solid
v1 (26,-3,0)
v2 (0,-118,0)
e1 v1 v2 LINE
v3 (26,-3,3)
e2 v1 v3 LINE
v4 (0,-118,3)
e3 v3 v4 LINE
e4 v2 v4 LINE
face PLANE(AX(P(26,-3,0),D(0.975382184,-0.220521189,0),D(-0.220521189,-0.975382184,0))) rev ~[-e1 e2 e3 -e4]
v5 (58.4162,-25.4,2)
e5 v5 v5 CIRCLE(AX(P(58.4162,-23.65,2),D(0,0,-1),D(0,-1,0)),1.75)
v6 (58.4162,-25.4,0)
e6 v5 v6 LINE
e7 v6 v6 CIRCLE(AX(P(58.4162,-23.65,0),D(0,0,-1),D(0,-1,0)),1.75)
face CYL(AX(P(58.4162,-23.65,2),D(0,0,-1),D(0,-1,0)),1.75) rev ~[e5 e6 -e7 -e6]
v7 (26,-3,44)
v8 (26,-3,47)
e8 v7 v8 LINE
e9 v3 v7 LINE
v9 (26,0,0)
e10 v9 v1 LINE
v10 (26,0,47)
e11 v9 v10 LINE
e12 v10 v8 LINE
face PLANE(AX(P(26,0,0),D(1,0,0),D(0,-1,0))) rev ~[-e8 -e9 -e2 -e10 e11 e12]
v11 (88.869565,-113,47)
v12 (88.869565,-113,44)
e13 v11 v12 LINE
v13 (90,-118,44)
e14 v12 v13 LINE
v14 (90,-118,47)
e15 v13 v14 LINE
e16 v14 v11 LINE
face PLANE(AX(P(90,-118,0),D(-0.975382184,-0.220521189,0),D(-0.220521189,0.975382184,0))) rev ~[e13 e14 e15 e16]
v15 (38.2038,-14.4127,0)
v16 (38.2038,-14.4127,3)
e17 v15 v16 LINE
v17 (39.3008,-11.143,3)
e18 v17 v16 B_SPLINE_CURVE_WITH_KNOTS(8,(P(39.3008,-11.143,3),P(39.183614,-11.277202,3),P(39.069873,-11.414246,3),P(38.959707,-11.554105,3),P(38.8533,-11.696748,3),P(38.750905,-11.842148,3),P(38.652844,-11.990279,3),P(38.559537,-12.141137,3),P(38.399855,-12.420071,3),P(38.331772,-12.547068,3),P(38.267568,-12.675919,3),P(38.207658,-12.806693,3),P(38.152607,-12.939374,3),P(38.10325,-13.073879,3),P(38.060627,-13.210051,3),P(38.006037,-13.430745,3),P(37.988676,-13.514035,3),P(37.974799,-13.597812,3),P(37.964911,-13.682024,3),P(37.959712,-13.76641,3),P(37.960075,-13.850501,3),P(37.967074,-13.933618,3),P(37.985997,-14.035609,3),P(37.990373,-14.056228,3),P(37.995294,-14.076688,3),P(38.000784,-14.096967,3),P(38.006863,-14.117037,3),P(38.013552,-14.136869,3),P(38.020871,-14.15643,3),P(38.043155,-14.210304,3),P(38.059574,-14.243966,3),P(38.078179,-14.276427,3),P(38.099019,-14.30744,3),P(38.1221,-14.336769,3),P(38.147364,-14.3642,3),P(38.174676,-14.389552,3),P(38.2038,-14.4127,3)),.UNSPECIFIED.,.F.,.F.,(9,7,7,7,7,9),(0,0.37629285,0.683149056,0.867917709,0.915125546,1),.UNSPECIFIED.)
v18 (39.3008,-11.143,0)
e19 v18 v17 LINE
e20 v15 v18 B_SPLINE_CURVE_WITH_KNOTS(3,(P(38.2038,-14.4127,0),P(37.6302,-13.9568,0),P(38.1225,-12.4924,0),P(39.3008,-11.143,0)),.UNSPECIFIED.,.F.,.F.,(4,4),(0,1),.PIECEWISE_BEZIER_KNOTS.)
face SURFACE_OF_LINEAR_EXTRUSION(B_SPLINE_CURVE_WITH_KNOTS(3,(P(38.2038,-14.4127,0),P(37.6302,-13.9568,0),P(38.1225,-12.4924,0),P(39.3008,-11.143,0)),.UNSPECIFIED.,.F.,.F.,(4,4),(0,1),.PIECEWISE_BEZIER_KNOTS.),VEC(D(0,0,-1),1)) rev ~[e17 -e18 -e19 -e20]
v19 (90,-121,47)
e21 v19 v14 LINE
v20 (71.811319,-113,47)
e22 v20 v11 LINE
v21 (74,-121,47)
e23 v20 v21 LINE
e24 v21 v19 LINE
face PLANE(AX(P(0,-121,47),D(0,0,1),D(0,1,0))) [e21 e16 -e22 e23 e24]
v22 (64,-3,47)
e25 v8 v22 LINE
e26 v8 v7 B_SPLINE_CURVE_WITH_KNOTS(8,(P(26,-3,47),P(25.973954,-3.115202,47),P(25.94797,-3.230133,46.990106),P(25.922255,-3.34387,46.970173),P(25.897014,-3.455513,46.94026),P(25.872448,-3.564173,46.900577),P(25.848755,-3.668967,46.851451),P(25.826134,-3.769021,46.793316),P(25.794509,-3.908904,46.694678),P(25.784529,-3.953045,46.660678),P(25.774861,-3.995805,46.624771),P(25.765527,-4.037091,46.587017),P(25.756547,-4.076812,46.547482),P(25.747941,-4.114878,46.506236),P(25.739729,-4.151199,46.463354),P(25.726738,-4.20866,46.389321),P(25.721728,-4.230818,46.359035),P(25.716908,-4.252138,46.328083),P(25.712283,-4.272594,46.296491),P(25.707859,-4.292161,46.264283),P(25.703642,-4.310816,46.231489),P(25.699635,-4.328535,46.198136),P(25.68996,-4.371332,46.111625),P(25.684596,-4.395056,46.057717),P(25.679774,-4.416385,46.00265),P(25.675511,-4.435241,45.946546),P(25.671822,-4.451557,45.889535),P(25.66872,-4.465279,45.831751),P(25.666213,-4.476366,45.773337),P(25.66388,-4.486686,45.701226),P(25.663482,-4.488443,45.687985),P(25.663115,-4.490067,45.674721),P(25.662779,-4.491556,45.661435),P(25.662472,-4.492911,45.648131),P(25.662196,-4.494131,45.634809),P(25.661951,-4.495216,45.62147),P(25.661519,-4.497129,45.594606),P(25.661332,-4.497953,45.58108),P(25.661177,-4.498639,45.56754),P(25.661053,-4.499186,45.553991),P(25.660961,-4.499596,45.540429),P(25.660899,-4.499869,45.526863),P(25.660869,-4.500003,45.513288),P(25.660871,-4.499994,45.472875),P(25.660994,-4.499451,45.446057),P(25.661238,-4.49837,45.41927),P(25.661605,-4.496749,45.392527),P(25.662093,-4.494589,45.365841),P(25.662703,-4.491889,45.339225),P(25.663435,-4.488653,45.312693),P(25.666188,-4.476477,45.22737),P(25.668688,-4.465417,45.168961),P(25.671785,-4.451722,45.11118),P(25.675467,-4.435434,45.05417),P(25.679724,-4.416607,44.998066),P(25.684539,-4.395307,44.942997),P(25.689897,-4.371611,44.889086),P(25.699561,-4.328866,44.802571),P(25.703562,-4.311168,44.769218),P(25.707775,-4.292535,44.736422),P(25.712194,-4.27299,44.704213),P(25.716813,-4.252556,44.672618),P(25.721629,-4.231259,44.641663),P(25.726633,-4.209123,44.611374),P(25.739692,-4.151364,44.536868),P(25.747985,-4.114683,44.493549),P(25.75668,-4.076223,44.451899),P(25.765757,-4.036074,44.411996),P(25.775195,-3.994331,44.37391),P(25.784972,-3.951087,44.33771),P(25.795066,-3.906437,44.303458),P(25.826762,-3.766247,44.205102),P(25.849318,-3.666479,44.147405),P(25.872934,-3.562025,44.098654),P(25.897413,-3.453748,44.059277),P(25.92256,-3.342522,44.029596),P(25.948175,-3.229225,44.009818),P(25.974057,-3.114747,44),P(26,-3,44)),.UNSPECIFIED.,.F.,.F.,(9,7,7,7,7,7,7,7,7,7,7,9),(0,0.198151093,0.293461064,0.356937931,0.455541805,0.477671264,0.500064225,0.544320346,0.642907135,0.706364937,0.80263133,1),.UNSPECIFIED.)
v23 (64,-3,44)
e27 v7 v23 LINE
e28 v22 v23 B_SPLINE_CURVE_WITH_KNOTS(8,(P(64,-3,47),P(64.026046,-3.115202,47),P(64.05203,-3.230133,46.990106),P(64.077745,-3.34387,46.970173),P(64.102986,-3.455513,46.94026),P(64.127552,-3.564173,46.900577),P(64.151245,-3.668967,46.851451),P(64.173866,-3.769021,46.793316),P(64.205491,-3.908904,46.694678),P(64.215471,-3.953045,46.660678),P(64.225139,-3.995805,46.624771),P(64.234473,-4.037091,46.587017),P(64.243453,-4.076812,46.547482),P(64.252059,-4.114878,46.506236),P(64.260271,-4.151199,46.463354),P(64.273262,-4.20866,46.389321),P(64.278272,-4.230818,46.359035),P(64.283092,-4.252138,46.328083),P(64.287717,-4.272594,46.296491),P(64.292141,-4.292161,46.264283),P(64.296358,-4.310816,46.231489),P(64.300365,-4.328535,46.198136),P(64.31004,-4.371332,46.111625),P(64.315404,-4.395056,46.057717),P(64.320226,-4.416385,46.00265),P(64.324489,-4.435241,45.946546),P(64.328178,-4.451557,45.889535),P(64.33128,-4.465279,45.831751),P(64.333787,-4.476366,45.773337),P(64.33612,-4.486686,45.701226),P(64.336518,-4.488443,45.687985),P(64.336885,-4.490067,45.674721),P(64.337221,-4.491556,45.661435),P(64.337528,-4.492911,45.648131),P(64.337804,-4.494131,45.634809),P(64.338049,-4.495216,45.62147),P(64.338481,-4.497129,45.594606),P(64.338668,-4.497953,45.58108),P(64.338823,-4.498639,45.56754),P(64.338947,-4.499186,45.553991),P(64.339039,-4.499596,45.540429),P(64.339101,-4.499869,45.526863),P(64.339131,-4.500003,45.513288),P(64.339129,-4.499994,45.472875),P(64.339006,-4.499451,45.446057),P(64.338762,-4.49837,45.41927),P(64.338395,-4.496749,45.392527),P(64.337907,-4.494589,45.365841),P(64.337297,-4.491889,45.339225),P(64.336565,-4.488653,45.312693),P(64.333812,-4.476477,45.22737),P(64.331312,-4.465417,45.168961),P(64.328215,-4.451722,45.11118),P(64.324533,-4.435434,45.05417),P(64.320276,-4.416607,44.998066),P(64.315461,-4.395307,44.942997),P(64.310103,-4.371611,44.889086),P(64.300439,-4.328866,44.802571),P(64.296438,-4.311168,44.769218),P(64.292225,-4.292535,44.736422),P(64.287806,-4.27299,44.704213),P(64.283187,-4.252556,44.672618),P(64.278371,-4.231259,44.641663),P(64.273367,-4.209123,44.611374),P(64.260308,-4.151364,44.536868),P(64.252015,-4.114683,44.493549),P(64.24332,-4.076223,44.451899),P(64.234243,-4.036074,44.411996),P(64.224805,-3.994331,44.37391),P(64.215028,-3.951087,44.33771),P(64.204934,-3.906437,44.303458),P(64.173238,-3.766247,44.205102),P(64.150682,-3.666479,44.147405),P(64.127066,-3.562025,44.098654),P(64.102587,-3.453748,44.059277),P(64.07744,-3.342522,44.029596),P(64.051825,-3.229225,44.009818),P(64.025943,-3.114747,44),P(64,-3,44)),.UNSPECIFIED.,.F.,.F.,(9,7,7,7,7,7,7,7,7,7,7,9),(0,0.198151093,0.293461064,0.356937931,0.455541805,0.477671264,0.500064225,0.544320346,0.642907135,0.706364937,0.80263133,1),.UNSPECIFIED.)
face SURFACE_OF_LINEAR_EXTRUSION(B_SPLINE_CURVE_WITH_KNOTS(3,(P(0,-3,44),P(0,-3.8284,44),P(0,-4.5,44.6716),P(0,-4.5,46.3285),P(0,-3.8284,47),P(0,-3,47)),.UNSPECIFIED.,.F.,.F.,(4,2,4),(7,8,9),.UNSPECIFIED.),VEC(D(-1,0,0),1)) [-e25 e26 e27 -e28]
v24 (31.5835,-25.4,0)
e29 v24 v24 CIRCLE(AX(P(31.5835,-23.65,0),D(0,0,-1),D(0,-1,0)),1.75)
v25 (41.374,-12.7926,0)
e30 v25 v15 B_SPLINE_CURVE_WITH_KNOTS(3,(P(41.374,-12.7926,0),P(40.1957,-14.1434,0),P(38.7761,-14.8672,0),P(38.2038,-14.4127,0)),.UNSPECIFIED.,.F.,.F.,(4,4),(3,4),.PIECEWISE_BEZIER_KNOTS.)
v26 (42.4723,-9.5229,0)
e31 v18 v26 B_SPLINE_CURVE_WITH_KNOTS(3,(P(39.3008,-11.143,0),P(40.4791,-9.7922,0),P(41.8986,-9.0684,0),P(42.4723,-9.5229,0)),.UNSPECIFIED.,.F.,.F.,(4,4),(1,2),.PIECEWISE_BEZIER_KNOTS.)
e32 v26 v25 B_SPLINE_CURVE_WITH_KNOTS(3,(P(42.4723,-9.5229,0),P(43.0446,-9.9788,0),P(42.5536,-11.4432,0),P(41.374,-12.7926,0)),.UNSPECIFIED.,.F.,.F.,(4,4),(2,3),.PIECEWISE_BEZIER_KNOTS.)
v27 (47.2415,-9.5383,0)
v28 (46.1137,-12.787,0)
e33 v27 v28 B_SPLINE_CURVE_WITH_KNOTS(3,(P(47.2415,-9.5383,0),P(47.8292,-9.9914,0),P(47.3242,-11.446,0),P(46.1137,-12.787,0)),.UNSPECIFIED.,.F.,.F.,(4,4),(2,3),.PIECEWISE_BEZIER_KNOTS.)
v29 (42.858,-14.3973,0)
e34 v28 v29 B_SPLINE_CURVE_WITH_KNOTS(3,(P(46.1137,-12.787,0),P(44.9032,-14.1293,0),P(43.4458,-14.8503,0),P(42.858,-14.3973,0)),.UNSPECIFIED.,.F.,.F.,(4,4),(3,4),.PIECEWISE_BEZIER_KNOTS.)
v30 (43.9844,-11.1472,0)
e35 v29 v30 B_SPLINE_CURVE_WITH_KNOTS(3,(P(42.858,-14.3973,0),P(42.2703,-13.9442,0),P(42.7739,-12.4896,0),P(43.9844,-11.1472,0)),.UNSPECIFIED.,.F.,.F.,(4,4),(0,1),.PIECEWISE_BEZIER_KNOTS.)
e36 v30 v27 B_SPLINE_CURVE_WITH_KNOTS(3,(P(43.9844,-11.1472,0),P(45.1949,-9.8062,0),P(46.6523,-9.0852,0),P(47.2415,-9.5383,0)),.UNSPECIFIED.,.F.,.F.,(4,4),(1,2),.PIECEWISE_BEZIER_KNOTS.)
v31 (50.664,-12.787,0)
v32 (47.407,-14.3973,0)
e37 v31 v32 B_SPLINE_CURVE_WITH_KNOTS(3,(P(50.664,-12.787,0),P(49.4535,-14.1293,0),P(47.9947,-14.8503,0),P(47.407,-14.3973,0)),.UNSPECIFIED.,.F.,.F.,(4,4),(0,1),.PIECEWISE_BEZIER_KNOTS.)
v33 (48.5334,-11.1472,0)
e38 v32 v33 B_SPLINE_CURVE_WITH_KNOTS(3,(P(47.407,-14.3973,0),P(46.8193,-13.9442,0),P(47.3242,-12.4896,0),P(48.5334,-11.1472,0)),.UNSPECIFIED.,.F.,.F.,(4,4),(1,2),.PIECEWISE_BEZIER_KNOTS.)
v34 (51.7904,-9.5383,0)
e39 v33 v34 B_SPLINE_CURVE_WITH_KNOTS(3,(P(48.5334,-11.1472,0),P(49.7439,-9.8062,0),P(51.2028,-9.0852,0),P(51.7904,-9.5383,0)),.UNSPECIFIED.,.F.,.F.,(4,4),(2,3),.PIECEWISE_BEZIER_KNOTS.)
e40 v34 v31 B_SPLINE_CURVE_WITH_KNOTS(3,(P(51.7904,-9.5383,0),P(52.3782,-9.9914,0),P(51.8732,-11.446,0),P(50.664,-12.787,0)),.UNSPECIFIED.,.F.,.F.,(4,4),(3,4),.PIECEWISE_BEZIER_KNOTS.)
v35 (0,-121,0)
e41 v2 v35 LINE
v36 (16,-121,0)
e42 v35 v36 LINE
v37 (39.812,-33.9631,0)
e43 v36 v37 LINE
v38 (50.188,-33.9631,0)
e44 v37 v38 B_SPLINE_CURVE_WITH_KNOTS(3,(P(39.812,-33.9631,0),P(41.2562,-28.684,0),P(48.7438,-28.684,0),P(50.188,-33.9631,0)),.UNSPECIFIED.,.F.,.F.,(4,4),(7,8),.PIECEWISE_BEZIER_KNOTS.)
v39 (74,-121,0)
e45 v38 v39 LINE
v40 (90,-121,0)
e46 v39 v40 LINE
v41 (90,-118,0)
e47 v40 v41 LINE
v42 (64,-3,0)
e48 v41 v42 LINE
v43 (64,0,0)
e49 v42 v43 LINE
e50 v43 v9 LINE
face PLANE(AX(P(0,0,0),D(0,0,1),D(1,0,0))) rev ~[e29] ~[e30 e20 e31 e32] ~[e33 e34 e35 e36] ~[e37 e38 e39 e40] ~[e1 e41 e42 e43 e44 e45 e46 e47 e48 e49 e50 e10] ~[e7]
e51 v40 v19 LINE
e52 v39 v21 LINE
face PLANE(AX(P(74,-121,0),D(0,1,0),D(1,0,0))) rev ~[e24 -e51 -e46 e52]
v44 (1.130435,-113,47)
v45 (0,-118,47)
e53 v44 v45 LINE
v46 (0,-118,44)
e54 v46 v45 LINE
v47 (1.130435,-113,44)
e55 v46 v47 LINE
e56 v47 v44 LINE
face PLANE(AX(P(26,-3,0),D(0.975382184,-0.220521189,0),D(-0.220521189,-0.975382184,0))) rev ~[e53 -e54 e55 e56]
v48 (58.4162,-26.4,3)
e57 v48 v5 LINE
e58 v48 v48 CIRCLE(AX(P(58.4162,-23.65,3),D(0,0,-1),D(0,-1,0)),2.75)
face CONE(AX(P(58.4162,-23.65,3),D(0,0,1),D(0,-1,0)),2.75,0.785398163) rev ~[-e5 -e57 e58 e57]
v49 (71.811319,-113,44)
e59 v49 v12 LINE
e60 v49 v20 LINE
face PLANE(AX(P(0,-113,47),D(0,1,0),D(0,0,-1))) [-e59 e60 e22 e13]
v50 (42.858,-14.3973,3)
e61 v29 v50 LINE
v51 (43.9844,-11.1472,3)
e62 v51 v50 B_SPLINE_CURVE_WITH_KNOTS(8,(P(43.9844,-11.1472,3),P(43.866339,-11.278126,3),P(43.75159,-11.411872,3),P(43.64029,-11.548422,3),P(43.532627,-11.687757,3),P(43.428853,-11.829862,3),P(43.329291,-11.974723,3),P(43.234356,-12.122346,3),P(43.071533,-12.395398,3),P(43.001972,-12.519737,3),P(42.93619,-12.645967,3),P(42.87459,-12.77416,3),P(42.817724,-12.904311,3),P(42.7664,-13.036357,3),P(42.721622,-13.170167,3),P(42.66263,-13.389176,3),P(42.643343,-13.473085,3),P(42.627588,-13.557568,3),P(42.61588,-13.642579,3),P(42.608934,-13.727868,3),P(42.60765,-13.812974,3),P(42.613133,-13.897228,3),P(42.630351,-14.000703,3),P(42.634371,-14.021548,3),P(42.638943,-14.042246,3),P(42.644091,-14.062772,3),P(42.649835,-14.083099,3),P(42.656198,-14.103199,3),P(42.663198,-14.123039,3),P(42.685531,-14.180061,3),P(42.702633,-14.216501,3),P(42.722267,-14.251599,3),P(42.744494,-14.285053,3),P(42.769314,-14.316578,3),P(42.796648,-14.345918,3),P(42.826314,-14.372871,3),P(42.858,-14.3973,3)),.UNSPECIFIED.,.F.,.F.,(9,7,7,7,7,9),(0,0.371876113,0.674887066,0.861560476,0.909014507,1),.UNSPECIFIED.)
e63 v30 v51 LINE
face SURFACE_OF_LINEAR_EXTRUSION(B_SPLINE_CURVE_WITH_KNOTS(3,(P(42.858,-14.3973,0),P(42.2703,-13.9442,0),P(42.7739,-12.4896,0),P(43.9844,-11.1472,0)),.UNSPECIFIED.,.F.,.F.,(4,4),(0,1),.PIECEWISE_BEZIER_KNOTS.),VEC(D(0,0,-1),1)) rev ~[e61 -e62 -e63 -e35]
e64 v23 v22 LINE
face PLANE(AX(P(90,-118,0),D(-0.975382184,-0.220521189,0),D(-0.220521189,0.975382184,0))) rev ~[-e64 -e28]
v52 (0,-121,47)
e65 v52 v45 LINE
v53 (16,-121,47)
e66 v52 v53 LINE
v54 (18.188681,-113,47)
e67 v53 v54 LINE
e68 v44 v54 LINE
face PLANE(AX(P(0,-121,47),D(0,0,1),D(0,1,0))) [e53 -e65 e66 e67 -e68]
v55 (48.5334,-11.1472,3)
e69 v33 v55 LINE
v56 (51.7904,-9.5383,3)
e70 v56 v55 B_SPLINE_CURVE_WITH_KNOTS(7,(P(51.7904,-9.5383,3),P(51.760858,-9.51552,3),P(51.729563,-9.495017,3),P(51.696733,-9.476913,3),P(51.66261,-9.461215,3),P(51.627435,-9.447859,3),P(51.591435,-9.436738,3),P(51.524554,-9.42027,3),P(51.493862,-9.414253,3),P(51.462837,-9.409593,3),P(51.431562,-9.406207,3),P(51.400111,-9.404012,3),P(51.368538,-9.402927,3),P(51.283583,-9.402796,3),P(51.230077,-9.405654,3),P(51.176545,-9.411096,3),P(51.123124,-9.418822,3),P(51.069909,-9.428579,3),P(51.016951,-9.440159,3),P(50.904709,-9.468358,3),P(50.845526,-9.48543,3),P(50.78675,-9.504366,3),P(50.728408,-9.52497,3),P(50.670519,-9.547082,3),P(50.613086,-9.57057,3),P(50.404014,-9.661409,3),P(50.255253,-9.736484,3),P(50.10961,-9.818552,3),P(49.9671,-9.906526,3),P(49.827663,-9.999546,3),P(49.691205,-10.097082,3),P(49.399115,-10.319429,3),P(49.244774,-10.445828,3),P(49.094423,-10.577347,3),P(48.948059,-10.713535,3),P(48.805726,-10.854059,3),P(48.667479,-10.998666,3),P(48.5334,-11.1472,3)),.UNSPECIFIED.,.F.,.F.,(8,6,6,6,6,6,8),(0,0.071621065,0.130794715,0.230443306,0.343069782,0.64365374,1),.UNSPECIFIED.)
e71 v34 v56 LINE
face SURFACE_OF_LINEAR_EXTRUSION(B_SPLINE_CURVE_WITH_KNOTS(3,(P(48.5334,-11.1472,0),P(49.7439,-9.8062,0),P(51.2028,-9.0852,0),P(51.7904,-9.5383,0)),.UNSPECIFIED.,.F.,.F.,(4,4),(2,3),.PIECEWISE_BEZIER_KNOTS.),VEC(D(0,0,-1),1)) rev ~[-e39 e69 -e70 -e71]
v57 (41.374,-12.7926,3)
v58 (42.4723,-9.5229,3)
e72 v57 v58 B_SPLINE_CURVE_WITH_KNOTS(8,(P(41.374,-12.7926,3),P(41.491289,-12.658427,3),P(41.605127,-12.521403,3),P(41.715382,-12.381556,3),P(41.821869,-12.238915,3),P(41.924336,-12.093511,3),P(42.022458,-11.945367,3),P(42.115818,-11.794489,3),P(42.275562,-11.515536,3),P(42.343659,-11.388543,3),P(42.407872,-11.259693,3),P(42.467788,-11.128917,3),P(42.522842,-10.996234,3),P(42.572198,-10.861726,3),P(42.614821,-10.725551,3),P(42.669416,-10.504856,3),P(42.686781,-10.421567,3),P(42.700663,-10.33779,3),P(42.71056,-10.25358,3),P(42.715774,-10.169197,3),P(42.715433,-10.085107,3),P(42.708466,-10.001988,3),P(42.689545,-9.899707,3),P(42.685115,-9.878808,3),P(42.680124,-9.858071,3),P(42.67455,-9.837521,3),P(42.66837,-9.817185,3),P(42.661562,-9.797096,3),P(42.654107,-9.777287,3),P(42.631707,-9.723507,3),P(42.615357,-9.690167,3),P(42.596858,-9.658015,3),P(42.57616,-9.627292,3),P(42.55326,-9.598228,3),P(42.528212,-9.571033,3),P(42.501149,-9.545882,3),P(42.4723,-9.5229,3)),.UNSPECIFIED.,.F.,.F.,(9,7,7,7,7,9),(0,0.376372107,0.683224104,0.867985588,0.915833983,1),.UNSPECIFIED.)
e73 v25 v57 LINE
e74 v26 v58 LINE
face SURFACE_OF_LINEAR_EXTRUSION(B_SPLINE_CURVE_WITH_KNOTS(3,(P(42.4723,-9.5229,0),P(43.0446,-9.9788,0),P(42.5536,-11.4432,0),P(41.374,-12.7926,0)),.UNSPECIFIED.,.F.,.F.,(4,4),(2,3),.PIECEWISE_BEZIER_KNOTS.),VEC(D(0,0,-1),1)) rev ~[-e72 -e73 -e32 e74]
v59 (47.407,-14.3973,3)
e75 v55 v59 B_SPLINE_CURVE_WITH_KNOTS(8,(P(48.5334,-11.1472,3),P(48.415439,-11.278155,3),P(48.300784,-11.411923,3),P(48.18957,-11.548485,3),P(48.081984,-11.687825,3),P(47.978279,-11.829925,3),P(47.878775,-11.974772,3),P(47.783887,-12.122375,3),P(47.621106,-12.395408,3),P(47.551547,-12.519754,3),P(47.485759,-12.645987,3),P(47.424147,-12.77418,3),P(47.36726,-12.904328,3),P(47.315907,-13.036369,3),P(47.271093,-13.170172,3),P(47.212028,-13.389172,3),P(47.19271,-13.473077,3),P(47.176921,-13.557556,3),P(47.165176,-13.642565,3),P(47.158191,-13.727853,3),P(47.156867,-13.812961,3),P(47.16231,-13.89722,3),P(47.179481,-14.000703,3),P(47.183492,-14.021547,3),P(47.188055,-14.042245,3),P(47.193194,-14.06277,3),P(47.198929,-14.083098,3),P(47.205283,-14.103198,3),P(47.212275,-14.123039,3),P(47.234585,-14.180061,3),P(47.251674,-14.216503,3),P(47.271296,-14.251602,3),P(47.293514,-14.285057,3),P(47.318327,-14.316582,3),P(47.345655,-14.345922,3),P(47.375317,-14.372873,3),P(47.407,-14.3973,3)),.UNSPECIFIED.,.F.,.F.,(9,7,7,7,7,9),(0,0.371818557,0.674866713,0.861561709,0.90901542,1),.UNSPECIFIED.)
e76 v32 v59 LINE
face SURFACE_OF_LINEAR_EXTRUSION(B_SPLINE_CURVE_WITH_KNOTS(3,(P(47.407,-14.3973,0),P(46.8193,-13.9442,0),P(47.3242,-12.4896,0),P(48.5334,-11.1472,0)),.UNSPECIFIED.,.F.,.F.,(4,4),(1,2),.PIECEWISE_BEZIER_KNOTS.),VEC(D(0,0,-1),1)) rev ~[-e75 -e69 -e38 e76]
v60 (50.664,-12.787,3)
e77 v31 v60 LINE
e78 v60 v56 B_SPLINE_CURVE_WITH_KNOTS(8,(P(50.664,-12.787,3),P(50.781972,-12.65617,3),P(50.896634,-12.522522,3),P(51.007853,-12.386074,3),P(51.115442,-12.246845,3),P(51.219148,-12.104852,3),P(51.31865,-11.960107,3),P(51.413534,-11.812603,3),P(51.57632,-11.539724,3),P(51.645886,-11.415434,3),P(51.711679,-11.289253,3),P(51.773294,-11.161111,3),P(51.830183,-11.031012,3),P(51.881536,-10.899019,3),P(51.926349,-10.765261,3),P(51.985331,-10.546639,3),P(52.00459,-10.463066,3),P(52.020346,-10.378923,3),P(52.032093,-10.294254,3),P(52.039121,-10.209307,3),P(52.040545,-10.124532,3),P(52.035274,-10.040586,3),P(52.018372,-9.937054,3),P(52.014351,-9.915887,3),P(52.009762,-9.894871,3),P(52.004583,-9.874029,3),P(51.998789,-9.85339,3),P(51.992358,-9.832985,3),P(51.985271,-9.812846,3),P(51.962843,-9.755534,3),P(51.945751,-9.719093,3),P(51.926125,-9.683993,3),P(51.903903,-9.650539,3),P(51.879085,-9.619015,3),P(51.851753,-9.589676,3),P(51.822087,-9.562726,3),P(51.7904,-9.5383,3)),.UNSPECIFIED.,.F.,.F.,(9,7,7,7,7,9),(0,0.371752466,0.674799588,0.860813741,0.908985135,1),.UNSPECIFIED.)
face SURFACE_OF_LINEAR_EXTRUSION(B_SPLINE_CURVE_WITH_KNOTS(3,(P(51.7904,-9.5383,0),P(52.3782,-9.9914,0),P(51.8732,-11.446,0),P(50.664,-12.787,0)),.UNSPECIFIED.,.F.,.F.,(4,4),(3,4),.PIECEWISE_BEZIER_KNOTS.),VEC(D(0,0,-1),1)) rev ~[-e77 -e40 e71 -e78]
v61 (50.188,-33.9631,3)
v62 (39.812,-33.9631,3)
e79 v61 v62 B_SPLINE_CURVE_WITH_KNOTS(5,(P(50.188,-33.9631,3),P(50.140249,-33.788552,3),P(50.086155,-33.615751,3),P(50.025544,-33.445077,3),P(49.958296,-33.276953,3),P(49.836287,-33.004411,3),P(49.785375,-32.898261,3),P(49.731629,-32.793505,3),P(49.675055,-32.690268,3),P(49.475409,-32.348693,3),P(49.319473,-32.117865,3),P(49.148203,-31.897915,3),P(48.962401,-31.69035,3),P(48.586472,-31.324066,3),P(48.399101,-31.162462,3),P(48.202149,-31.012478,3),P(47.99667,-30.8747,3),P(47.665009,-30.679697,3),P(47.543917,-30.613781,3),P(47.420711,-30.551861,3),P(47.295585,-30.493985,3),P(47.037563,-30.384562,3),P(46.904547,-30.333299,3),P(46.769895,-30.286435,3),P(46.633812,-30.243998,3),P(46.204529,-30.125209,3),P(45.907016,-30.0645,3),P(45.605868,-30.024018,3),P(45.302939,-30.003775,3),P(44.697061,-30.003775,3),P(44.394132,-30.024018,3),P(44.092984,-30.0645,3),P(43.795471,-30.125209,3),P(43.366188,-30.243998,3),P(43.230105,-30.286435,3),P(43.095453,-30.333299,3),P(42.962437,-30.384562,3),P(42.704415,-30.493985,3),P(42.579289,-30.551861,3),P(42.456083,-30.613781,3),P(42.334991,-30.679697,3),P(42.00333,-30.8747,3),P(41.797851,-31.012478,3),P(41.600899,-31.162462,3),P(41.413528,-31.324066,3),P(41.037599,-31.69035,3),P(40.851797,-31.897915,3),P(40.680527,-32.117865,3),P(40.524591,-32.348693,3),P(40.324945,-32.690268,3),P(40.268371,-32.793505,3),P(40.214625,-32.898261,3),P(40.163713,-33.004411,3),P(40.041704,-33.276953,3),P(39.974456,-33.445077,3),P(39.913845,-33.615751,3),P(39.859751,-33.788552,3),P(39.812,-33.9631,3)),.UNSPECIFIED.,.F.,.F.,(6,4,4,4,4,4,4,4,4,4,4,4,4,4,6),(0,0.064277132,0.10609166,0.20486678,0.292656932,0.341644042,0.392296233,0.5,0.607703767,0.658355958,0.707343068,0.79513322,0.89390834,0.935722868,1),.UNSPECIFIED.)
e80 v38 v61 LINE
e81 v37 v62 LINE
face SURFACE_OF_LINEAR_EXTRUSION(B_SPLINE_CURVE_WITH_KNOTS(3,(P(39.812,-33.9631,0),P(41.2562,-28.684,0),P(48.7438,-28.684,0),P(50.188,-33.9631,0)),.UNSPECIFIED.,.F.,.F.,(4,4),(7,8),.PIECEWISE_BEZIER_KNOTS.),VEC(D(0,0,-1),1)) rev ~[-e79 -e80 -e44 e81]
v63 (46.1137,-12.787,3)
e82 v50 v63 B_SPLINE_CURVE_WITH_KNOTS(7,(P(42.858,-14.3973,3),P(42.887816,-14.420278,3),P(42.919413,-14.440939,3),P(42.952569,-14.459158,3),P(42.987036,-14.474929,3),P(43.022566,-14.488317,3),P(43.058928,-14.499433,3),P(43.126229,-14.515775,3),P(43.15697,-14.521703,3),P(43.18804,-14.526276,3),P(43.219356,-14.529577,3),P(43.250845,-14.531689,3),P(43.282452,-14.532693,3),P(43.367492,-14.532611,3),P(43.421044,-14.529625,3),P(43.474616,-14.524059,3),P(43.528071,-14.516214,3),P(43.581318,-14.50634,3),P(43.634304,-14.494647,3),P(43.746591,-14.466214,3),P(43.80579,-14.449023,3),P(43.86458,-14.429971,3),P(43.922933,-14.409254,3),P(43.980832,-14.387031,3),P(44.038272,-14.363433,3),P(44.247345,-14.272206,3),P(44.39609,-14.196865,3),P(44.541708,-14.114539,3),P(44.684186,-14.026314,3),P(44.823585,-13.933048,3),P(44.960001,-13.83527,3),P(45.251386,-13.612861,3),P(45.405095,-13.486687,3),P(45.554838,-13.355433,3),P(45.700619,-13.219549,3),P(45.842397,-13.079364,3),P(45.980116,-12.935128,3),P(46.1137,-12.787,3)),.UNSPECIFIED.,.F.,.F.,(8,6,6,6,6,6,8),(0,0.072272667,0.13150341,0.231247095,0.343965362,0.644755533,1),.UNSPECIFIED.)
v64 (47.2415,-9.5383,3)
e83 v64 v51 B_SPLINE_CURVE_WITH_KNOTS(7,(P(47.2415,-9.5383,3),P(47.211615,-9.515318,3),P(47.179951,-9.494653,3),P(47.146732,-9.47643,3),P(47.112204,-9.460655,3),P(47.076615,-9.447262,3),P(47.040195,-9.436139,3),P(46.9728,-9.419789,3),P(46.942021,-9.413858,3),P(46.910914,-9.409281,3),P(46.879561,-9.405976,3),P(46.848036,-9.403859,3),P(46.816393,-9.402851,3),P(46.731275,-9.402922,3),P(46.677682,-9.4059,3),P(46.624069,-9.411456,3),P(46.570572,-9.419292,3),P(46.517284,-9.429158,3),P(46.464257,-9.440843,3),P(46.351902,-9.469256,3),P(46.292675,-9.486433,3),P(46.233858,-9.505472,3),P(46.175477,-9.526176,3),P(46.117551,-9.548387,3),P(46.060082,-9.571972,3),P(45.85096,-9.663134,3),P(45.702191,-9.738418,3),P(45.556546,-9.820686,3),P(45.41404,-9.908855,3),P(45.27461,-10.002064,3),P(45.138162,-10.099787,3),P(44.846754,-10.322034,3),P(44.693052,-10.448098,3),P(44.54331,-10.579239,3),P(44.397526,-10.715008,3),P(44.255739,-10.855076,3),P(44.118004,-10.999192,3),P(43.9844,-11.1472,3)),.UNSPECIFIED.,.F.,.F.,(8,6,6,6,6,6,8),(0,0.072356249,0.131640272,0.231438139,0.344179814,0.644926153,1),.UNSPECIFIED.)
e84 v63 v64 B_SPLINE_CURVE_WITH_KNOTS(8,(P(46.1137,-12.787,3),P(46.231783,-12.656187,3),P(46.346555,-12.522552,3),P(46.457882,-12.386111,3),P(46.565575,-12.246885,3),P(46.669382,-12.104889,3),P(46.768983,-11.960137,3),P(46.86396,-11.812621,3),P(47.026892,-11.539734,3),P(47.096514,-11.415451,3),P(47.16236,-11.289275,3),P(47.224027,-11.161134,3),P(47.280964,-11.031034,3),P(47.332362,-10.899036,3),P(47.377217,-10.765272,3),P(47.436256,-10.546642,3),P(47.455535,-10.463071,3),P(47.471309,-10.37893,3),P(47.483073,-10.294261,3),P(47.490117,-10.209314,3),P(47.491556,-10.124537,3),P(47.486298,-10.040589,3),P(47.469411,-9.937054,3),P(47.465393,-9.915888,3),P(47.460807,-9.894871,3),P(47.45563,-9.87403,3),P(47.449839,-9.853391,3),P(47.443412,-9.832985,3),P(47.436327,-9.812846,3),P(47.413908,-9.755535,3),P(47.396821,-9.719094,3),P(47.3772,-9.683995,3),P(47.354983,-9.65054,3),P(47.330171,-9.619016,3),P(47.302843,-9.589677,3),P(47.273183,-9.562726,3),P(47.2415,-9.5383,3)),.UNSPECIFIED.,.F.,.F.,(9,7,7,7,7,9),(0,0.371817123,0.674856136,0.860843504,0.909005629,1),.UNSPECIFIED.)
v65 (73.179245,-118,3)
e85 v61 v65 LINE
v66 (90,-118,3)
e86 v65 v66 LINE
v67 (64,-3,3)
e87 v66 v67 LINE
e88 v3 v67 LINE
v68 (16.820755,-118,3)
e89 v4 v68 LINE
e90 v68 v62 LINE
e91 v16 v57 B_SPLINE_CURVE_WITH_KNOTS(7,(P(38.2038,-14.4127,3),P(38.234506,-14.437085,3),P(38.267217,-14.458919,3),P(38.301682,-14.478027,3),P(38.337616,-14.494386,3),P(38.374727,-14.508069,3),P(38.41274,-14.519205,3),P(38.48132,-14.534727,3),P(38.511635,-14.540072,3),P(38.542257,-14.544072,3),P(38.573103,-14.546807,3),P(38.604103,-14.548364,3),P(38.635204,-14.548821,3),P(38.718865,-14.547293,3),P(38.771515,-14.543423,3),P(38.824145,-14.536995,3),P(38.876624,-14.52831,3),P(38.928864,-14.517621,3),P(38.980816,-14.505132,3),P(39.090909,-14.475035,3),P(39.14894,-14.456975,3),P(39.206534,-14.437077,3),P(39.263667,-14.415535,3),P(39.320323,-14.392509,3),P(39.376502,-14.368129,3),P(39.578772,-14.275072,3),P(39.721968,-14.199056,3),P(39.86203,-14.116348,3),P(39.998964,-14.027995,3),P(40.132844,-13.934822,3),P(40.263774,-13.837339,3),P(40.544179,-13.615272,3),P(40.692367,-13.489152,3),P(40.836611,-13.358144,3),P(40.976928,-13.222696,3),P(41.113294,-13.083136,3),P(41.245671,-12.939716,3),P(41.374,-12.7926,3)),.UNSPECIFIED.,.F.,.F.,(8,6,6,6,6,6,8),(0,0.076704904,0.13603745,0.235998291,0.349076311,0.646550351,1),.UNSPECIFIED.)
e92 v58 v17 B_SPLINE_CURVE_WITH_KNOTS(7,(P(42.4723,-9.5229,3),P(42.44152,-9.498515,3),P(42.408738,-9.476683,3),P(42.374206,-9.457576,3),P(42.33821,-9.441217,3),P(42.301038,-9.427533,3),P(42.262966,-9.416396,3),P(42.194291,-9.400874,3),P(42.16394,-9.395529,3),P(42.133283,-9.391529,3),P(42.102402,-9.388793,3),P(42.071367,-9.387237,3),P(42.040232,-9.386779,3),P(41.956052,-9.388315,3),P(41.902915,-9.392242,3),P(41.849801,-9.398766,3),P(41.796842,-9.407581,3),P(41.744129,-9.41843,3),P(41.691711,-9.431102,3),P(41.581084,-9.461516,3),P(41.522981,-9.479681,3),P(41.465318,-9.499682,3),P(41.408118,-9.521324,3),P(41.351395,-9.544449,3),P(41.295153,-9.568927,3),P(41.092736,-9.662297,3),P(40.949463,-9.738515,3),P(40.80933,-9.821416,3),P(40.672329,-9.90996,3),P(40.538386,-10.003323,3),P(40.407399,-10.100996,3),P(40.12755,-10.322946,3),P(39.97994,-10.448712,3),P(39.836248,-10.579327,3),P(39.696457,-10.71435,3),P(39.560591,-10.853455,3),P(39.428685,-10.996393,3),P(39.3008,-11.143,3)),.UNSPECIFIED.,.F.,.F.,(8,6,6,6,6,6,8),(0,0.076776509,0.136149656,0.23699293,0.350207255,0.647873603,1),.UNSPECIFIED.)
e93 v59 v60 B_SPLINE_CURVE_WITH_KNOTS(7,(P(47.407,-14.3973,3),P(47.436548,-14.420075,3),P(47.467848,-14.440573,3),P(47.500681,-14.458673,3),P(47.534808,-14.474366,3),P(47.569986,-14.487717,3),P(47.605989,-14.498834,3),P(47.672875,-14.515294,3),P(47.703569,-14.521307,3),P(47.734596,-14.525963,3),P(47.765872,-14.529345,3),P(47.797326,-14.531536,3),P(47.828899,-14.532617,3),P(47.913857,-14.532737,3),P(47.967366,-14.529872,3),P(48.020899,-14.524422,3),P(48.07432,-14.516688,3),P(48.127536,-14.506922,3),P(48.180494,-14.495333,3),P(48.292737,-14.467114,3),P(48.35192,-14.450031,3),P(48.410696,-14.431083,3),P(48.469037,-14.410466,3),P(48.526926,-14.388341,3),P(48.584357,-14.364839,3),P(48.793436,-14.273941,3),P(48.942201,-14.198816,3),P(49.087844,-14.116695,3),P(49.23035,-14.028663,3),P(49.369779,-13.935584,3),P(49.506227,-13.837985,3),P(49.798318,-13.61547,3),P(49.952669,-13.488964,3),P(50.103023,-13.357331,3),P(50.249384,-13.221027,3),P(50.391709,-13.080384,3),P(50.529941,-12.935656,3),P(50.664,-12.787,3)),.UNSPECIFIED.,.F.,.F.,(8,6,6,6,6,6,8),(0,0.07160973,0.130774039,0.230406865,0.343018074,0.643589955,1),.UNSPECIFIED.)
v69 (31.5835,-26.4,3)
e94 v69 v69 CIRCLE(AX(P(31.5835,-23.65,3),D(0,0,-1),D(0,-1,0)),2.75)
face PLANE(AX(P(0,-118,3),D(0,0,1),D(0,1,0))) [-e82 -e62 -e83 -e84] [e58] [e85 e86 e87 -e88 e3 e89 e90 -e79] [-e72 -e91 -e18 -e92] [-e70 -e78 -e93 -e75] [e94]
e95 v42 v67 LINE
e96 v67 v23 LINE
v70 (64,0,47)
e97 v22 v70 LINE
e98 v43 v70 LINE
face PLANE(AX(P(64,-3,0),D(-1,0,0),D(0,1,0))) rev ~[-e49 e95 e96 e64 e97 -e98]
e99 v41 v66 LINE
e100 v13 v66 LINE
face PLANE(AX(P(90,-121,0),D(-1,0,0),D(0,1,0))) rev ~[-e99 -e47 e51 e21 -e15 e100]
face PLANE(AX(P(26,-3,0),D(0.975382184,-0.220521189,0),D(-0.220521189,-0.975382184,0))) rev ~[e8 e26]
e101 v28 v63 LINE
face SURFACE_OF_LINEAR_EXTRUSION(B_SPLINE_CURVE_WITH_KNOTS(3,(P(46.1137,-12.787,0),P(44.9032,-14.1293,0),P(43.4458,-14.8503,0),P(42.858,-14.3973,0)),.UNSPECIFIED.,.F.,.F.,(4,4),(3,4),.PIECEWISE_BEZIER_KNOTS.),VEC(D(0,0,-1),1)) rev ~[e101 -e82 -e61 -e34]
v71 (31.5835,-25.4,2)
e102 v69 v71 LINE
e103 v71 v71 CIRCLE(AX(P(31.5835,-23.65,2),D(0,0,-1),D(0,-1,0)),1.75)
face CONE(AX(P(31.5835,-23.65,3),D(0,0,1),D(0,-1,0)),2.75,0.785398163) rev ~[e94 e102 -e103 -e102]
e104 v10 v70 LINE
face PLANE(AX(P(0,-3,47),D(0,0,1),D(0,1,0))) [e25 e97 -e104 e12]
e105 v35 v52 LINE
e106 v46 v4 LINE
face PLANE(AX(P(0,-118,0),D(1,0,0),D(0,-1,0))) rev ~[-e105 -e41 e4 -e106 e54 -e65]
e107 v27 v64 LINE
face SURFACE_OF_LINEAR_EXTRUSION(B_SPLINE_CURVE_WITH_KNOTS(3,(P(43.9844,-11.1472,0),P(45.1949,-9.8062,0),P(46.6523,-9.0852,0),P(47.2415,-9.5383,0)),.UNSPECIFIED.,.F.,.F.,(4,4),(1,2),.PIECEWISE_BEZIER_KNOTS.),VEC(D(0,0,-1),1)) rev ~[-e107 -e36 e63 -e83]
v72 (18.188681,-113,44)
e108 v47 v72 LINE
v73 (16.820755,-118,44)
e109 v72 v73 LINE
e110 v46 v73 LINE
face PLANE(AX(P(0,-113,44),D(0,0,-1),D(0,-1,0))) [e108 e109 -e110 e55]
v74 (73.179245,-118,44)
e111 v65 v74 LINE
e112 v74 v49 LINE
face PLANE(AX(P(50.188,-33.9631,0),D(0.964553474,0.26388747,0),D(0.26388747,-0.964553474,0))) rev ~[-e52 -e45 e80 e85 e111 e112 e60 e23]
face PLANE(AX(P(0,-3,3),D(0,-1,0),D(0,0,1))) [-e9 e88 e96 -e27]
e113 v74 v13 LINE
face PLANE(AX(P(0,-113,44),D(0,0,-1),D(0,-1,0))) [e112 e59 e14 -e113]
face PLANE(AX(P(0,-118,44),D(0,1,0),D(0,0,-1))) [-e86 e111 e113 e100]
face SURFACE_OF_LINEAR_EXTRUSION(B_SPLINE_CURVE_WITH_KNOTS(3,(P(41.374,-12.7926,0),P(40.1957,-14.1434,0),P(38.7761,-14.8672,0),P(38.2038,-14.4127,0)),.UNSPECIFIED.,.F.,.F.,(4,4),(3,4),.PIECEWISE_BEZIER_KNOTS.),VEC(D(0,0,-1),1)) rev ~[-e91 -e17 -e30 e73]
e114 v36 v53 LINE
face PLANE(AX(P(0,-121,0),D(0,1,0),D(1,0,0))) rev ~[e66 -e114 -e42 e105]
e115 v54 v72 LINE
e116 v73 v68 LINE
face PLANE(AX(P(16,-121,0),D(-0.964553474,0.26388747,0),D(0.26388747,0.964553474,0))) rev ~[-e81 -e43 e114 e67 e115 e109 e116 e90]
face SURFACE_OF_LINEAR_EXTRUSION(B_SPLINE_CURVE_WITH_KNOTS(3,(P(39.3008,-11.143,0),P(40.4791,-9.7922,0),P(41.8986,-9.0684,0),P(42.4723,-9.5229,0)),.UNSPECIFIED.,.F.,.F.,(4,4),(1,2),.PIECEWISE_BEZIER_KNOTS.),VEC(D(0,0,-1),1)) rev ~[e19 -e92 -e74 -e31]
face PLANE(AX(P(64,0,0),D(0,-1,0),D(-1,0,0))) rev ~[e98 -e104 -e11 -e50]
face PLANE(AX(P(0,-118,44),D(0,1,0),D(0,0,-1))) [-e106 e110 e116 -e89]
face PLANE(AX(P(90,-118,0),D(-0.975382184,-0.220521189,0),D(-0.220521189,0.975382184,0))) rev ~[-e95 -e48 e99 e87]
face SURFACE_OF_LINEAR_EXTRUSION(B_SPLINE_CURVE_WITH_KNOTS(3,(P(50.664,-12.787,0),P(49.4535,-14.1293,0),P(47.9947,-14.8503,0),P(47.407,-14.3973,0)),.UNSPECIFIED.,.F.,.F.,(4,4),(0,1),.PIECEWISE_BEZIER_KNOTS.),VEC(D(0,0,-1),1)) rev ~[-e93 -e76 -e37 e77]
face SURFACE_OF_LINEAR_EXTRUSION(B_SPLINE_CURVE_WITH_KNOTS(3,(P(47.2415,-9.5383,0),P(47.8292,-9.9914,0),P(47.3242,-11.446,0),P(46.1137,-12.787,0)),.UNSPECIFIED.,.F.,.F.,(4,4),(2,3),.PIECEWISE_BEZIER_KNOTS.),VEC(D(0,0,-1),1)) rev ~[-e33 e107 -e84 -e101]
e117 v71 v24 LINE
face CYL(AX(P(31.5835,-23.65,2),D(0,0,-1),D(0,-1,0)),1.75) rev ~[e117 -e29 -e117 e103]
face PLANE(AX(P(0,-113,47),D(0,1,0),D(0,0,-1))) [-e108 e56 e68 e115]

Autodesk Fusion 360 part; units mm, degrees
sketch "Top" plane through (0, 0, 0) normal (0, 0, 1) x (1, 0, 0)
  spline S0 degree 3 poles (50.664, -12.787) (49.4535, -14.1293) (47.9947, -14.8503) (47.407, -14.3973) knots 0 0 0 0 1 1 1 1
  spline S1 degree 3 poles (47.407, -14.3973) (46.8193, -13.9442) (47.3242, -12.4896) (48.5334, -11.1472) knots 1 1 1 1 2 2 2 2
  spline S2 degree 3 poles (48.5334, -11.1472) (49.7439, -9.8062) (51.2028, -9.0852) (51.7904, -9.5383) knots 2 2 2 2 3 3 3 3
  spline S3 degree 3 poles (51.7904, -9.5383) (52.3782, -9.9914) (51.8732, -11.446) (50.664, -12.787) knots 3 3 3 3 4 4 4 4
  spline S4 degree 3 poles (42.858, -14.3973) (42.2703, -13.9442) (42.7739, -12.4896) (43.9844, -11.1472) knots 0 0 0 0 1 1 1 1
  spline S5 degree 3 poles (43.9844, -11.1472) (45.1949, -9.8062) (46.6523, -9.0852) (47.2415, -9.5383) knots 1 1 1 1 2 2 2 2
  spline S6 degree 3 poles (47.2415, -9.5383) (47.8292, -9.9914) (47.3242, -11.446) (46.1137, -12.787) knots 2 2 2 2 3 3 3 3
  spline S7 degree 3 poles (46.1137, -12.787) (44.9032, -14.1293) (43.4458, -14.8503) (42.858, -14.3973) knots 3 3 3 3 4 4 4 4
  spline S8 degree 3 poles (38.2038, -14.4127) (37.6302, -13.9568) (38.1225, -12.4924) (39.3008, -11.143) knots 0 0 0 0 1 1 1 1
  spline S9 degree 3 poles (39.3008, -11.143) (40.4791, -9.7922) (41.8986, -9.0684) (42.4723, -9.5229) knots 1 1 1 1 2 2 2 2
  spline S10 degree 3 poles (42.4723, -9.5229) (43.0446, -9.9788) (42.5536, -11.4432) (41.374, -12.7926) knots 2 2 2 2 3 3 3 3
  spline S11 degree 3 poles (41.374, -12.7926) (40.1957, -14.1434) (38.7761, -14.8672) (38.2038, -14.4127) knots 3 3 3 3 4 4 4 4
  line L0 (64, -3) -> (64, 0)
  line L1 (64, 0) -> (26, 0)
  line L2 (26, 0) -> (26, -3)
  line L3 (26, -3) -> (0, -118)
  line L4 (0, -118) -> (0, -121)
  line L5 (0, -121) -> (16, -121)
  line L6 (16, -121) -> (39.812, -33.9631)
  spline S12 degree 3 poles (39.812, -33.9631) (41.2562, -28.684) (48.7438, -28.684) (50.188, -33.9631) knots 7 7 7 7 8 8 8 8
  line L7 (50.188, -33.9631) -> (74, -121)
  line L8 (74, -121) -> (90, -121)
  line L9 (90, -121) -> (90, -118)
  line L10 (90, -118) -> (64, -3)
extrude "Extrude1" add sketch "Top" along normal blind 57
sketch "RightSideCut" plane through (0, 0, 0) normal (1, 0, 0) x (0, 1, 0)
  line L0 (-121, 57) -> (-121, 47)
  line L1 (-121, 47) -> (-113, 47)
  line L2 (-113, 47) -> (-113, 44)
  line L3 (-113, 44) -> (-118, 44)
  line L4 (-118, 44) -> (-118, 3)
  line L5 (-118, 3) -> (-3, 3)
  line L6 (-3, 3) -> (-3, 44)
  spline S0 degree 3 poles (-3, 44) (-3.8284, 44) (-4.5, 44.6716) (-4.5, 46.3285) (-3.8284, 47) (-3, 47) knots 7 7 7 7 8 8 9 9 9 9
  line L7 (-3, 47) -> (0, 47)
  line L8 (0, 47) -> (0, 57)
  line L9 (0, 57) -> (-121, 57)
extrude "Extrude2" cut sketch "RightSideCut" along normal blind 90
hole "Hole1" at (31.5835, -23.65, 3) direction (0, 0, -1) diameter 3.5 depth 3 tip angle 118 countersink diameter 5.5 countersink angle 90
hole "Hole2" at (58.4162, -23.65, 3) direction (0, 0, -1) diameter 3.5 depth 3 tip angle 118 countersink diameter 5.5 countersink angle 90
